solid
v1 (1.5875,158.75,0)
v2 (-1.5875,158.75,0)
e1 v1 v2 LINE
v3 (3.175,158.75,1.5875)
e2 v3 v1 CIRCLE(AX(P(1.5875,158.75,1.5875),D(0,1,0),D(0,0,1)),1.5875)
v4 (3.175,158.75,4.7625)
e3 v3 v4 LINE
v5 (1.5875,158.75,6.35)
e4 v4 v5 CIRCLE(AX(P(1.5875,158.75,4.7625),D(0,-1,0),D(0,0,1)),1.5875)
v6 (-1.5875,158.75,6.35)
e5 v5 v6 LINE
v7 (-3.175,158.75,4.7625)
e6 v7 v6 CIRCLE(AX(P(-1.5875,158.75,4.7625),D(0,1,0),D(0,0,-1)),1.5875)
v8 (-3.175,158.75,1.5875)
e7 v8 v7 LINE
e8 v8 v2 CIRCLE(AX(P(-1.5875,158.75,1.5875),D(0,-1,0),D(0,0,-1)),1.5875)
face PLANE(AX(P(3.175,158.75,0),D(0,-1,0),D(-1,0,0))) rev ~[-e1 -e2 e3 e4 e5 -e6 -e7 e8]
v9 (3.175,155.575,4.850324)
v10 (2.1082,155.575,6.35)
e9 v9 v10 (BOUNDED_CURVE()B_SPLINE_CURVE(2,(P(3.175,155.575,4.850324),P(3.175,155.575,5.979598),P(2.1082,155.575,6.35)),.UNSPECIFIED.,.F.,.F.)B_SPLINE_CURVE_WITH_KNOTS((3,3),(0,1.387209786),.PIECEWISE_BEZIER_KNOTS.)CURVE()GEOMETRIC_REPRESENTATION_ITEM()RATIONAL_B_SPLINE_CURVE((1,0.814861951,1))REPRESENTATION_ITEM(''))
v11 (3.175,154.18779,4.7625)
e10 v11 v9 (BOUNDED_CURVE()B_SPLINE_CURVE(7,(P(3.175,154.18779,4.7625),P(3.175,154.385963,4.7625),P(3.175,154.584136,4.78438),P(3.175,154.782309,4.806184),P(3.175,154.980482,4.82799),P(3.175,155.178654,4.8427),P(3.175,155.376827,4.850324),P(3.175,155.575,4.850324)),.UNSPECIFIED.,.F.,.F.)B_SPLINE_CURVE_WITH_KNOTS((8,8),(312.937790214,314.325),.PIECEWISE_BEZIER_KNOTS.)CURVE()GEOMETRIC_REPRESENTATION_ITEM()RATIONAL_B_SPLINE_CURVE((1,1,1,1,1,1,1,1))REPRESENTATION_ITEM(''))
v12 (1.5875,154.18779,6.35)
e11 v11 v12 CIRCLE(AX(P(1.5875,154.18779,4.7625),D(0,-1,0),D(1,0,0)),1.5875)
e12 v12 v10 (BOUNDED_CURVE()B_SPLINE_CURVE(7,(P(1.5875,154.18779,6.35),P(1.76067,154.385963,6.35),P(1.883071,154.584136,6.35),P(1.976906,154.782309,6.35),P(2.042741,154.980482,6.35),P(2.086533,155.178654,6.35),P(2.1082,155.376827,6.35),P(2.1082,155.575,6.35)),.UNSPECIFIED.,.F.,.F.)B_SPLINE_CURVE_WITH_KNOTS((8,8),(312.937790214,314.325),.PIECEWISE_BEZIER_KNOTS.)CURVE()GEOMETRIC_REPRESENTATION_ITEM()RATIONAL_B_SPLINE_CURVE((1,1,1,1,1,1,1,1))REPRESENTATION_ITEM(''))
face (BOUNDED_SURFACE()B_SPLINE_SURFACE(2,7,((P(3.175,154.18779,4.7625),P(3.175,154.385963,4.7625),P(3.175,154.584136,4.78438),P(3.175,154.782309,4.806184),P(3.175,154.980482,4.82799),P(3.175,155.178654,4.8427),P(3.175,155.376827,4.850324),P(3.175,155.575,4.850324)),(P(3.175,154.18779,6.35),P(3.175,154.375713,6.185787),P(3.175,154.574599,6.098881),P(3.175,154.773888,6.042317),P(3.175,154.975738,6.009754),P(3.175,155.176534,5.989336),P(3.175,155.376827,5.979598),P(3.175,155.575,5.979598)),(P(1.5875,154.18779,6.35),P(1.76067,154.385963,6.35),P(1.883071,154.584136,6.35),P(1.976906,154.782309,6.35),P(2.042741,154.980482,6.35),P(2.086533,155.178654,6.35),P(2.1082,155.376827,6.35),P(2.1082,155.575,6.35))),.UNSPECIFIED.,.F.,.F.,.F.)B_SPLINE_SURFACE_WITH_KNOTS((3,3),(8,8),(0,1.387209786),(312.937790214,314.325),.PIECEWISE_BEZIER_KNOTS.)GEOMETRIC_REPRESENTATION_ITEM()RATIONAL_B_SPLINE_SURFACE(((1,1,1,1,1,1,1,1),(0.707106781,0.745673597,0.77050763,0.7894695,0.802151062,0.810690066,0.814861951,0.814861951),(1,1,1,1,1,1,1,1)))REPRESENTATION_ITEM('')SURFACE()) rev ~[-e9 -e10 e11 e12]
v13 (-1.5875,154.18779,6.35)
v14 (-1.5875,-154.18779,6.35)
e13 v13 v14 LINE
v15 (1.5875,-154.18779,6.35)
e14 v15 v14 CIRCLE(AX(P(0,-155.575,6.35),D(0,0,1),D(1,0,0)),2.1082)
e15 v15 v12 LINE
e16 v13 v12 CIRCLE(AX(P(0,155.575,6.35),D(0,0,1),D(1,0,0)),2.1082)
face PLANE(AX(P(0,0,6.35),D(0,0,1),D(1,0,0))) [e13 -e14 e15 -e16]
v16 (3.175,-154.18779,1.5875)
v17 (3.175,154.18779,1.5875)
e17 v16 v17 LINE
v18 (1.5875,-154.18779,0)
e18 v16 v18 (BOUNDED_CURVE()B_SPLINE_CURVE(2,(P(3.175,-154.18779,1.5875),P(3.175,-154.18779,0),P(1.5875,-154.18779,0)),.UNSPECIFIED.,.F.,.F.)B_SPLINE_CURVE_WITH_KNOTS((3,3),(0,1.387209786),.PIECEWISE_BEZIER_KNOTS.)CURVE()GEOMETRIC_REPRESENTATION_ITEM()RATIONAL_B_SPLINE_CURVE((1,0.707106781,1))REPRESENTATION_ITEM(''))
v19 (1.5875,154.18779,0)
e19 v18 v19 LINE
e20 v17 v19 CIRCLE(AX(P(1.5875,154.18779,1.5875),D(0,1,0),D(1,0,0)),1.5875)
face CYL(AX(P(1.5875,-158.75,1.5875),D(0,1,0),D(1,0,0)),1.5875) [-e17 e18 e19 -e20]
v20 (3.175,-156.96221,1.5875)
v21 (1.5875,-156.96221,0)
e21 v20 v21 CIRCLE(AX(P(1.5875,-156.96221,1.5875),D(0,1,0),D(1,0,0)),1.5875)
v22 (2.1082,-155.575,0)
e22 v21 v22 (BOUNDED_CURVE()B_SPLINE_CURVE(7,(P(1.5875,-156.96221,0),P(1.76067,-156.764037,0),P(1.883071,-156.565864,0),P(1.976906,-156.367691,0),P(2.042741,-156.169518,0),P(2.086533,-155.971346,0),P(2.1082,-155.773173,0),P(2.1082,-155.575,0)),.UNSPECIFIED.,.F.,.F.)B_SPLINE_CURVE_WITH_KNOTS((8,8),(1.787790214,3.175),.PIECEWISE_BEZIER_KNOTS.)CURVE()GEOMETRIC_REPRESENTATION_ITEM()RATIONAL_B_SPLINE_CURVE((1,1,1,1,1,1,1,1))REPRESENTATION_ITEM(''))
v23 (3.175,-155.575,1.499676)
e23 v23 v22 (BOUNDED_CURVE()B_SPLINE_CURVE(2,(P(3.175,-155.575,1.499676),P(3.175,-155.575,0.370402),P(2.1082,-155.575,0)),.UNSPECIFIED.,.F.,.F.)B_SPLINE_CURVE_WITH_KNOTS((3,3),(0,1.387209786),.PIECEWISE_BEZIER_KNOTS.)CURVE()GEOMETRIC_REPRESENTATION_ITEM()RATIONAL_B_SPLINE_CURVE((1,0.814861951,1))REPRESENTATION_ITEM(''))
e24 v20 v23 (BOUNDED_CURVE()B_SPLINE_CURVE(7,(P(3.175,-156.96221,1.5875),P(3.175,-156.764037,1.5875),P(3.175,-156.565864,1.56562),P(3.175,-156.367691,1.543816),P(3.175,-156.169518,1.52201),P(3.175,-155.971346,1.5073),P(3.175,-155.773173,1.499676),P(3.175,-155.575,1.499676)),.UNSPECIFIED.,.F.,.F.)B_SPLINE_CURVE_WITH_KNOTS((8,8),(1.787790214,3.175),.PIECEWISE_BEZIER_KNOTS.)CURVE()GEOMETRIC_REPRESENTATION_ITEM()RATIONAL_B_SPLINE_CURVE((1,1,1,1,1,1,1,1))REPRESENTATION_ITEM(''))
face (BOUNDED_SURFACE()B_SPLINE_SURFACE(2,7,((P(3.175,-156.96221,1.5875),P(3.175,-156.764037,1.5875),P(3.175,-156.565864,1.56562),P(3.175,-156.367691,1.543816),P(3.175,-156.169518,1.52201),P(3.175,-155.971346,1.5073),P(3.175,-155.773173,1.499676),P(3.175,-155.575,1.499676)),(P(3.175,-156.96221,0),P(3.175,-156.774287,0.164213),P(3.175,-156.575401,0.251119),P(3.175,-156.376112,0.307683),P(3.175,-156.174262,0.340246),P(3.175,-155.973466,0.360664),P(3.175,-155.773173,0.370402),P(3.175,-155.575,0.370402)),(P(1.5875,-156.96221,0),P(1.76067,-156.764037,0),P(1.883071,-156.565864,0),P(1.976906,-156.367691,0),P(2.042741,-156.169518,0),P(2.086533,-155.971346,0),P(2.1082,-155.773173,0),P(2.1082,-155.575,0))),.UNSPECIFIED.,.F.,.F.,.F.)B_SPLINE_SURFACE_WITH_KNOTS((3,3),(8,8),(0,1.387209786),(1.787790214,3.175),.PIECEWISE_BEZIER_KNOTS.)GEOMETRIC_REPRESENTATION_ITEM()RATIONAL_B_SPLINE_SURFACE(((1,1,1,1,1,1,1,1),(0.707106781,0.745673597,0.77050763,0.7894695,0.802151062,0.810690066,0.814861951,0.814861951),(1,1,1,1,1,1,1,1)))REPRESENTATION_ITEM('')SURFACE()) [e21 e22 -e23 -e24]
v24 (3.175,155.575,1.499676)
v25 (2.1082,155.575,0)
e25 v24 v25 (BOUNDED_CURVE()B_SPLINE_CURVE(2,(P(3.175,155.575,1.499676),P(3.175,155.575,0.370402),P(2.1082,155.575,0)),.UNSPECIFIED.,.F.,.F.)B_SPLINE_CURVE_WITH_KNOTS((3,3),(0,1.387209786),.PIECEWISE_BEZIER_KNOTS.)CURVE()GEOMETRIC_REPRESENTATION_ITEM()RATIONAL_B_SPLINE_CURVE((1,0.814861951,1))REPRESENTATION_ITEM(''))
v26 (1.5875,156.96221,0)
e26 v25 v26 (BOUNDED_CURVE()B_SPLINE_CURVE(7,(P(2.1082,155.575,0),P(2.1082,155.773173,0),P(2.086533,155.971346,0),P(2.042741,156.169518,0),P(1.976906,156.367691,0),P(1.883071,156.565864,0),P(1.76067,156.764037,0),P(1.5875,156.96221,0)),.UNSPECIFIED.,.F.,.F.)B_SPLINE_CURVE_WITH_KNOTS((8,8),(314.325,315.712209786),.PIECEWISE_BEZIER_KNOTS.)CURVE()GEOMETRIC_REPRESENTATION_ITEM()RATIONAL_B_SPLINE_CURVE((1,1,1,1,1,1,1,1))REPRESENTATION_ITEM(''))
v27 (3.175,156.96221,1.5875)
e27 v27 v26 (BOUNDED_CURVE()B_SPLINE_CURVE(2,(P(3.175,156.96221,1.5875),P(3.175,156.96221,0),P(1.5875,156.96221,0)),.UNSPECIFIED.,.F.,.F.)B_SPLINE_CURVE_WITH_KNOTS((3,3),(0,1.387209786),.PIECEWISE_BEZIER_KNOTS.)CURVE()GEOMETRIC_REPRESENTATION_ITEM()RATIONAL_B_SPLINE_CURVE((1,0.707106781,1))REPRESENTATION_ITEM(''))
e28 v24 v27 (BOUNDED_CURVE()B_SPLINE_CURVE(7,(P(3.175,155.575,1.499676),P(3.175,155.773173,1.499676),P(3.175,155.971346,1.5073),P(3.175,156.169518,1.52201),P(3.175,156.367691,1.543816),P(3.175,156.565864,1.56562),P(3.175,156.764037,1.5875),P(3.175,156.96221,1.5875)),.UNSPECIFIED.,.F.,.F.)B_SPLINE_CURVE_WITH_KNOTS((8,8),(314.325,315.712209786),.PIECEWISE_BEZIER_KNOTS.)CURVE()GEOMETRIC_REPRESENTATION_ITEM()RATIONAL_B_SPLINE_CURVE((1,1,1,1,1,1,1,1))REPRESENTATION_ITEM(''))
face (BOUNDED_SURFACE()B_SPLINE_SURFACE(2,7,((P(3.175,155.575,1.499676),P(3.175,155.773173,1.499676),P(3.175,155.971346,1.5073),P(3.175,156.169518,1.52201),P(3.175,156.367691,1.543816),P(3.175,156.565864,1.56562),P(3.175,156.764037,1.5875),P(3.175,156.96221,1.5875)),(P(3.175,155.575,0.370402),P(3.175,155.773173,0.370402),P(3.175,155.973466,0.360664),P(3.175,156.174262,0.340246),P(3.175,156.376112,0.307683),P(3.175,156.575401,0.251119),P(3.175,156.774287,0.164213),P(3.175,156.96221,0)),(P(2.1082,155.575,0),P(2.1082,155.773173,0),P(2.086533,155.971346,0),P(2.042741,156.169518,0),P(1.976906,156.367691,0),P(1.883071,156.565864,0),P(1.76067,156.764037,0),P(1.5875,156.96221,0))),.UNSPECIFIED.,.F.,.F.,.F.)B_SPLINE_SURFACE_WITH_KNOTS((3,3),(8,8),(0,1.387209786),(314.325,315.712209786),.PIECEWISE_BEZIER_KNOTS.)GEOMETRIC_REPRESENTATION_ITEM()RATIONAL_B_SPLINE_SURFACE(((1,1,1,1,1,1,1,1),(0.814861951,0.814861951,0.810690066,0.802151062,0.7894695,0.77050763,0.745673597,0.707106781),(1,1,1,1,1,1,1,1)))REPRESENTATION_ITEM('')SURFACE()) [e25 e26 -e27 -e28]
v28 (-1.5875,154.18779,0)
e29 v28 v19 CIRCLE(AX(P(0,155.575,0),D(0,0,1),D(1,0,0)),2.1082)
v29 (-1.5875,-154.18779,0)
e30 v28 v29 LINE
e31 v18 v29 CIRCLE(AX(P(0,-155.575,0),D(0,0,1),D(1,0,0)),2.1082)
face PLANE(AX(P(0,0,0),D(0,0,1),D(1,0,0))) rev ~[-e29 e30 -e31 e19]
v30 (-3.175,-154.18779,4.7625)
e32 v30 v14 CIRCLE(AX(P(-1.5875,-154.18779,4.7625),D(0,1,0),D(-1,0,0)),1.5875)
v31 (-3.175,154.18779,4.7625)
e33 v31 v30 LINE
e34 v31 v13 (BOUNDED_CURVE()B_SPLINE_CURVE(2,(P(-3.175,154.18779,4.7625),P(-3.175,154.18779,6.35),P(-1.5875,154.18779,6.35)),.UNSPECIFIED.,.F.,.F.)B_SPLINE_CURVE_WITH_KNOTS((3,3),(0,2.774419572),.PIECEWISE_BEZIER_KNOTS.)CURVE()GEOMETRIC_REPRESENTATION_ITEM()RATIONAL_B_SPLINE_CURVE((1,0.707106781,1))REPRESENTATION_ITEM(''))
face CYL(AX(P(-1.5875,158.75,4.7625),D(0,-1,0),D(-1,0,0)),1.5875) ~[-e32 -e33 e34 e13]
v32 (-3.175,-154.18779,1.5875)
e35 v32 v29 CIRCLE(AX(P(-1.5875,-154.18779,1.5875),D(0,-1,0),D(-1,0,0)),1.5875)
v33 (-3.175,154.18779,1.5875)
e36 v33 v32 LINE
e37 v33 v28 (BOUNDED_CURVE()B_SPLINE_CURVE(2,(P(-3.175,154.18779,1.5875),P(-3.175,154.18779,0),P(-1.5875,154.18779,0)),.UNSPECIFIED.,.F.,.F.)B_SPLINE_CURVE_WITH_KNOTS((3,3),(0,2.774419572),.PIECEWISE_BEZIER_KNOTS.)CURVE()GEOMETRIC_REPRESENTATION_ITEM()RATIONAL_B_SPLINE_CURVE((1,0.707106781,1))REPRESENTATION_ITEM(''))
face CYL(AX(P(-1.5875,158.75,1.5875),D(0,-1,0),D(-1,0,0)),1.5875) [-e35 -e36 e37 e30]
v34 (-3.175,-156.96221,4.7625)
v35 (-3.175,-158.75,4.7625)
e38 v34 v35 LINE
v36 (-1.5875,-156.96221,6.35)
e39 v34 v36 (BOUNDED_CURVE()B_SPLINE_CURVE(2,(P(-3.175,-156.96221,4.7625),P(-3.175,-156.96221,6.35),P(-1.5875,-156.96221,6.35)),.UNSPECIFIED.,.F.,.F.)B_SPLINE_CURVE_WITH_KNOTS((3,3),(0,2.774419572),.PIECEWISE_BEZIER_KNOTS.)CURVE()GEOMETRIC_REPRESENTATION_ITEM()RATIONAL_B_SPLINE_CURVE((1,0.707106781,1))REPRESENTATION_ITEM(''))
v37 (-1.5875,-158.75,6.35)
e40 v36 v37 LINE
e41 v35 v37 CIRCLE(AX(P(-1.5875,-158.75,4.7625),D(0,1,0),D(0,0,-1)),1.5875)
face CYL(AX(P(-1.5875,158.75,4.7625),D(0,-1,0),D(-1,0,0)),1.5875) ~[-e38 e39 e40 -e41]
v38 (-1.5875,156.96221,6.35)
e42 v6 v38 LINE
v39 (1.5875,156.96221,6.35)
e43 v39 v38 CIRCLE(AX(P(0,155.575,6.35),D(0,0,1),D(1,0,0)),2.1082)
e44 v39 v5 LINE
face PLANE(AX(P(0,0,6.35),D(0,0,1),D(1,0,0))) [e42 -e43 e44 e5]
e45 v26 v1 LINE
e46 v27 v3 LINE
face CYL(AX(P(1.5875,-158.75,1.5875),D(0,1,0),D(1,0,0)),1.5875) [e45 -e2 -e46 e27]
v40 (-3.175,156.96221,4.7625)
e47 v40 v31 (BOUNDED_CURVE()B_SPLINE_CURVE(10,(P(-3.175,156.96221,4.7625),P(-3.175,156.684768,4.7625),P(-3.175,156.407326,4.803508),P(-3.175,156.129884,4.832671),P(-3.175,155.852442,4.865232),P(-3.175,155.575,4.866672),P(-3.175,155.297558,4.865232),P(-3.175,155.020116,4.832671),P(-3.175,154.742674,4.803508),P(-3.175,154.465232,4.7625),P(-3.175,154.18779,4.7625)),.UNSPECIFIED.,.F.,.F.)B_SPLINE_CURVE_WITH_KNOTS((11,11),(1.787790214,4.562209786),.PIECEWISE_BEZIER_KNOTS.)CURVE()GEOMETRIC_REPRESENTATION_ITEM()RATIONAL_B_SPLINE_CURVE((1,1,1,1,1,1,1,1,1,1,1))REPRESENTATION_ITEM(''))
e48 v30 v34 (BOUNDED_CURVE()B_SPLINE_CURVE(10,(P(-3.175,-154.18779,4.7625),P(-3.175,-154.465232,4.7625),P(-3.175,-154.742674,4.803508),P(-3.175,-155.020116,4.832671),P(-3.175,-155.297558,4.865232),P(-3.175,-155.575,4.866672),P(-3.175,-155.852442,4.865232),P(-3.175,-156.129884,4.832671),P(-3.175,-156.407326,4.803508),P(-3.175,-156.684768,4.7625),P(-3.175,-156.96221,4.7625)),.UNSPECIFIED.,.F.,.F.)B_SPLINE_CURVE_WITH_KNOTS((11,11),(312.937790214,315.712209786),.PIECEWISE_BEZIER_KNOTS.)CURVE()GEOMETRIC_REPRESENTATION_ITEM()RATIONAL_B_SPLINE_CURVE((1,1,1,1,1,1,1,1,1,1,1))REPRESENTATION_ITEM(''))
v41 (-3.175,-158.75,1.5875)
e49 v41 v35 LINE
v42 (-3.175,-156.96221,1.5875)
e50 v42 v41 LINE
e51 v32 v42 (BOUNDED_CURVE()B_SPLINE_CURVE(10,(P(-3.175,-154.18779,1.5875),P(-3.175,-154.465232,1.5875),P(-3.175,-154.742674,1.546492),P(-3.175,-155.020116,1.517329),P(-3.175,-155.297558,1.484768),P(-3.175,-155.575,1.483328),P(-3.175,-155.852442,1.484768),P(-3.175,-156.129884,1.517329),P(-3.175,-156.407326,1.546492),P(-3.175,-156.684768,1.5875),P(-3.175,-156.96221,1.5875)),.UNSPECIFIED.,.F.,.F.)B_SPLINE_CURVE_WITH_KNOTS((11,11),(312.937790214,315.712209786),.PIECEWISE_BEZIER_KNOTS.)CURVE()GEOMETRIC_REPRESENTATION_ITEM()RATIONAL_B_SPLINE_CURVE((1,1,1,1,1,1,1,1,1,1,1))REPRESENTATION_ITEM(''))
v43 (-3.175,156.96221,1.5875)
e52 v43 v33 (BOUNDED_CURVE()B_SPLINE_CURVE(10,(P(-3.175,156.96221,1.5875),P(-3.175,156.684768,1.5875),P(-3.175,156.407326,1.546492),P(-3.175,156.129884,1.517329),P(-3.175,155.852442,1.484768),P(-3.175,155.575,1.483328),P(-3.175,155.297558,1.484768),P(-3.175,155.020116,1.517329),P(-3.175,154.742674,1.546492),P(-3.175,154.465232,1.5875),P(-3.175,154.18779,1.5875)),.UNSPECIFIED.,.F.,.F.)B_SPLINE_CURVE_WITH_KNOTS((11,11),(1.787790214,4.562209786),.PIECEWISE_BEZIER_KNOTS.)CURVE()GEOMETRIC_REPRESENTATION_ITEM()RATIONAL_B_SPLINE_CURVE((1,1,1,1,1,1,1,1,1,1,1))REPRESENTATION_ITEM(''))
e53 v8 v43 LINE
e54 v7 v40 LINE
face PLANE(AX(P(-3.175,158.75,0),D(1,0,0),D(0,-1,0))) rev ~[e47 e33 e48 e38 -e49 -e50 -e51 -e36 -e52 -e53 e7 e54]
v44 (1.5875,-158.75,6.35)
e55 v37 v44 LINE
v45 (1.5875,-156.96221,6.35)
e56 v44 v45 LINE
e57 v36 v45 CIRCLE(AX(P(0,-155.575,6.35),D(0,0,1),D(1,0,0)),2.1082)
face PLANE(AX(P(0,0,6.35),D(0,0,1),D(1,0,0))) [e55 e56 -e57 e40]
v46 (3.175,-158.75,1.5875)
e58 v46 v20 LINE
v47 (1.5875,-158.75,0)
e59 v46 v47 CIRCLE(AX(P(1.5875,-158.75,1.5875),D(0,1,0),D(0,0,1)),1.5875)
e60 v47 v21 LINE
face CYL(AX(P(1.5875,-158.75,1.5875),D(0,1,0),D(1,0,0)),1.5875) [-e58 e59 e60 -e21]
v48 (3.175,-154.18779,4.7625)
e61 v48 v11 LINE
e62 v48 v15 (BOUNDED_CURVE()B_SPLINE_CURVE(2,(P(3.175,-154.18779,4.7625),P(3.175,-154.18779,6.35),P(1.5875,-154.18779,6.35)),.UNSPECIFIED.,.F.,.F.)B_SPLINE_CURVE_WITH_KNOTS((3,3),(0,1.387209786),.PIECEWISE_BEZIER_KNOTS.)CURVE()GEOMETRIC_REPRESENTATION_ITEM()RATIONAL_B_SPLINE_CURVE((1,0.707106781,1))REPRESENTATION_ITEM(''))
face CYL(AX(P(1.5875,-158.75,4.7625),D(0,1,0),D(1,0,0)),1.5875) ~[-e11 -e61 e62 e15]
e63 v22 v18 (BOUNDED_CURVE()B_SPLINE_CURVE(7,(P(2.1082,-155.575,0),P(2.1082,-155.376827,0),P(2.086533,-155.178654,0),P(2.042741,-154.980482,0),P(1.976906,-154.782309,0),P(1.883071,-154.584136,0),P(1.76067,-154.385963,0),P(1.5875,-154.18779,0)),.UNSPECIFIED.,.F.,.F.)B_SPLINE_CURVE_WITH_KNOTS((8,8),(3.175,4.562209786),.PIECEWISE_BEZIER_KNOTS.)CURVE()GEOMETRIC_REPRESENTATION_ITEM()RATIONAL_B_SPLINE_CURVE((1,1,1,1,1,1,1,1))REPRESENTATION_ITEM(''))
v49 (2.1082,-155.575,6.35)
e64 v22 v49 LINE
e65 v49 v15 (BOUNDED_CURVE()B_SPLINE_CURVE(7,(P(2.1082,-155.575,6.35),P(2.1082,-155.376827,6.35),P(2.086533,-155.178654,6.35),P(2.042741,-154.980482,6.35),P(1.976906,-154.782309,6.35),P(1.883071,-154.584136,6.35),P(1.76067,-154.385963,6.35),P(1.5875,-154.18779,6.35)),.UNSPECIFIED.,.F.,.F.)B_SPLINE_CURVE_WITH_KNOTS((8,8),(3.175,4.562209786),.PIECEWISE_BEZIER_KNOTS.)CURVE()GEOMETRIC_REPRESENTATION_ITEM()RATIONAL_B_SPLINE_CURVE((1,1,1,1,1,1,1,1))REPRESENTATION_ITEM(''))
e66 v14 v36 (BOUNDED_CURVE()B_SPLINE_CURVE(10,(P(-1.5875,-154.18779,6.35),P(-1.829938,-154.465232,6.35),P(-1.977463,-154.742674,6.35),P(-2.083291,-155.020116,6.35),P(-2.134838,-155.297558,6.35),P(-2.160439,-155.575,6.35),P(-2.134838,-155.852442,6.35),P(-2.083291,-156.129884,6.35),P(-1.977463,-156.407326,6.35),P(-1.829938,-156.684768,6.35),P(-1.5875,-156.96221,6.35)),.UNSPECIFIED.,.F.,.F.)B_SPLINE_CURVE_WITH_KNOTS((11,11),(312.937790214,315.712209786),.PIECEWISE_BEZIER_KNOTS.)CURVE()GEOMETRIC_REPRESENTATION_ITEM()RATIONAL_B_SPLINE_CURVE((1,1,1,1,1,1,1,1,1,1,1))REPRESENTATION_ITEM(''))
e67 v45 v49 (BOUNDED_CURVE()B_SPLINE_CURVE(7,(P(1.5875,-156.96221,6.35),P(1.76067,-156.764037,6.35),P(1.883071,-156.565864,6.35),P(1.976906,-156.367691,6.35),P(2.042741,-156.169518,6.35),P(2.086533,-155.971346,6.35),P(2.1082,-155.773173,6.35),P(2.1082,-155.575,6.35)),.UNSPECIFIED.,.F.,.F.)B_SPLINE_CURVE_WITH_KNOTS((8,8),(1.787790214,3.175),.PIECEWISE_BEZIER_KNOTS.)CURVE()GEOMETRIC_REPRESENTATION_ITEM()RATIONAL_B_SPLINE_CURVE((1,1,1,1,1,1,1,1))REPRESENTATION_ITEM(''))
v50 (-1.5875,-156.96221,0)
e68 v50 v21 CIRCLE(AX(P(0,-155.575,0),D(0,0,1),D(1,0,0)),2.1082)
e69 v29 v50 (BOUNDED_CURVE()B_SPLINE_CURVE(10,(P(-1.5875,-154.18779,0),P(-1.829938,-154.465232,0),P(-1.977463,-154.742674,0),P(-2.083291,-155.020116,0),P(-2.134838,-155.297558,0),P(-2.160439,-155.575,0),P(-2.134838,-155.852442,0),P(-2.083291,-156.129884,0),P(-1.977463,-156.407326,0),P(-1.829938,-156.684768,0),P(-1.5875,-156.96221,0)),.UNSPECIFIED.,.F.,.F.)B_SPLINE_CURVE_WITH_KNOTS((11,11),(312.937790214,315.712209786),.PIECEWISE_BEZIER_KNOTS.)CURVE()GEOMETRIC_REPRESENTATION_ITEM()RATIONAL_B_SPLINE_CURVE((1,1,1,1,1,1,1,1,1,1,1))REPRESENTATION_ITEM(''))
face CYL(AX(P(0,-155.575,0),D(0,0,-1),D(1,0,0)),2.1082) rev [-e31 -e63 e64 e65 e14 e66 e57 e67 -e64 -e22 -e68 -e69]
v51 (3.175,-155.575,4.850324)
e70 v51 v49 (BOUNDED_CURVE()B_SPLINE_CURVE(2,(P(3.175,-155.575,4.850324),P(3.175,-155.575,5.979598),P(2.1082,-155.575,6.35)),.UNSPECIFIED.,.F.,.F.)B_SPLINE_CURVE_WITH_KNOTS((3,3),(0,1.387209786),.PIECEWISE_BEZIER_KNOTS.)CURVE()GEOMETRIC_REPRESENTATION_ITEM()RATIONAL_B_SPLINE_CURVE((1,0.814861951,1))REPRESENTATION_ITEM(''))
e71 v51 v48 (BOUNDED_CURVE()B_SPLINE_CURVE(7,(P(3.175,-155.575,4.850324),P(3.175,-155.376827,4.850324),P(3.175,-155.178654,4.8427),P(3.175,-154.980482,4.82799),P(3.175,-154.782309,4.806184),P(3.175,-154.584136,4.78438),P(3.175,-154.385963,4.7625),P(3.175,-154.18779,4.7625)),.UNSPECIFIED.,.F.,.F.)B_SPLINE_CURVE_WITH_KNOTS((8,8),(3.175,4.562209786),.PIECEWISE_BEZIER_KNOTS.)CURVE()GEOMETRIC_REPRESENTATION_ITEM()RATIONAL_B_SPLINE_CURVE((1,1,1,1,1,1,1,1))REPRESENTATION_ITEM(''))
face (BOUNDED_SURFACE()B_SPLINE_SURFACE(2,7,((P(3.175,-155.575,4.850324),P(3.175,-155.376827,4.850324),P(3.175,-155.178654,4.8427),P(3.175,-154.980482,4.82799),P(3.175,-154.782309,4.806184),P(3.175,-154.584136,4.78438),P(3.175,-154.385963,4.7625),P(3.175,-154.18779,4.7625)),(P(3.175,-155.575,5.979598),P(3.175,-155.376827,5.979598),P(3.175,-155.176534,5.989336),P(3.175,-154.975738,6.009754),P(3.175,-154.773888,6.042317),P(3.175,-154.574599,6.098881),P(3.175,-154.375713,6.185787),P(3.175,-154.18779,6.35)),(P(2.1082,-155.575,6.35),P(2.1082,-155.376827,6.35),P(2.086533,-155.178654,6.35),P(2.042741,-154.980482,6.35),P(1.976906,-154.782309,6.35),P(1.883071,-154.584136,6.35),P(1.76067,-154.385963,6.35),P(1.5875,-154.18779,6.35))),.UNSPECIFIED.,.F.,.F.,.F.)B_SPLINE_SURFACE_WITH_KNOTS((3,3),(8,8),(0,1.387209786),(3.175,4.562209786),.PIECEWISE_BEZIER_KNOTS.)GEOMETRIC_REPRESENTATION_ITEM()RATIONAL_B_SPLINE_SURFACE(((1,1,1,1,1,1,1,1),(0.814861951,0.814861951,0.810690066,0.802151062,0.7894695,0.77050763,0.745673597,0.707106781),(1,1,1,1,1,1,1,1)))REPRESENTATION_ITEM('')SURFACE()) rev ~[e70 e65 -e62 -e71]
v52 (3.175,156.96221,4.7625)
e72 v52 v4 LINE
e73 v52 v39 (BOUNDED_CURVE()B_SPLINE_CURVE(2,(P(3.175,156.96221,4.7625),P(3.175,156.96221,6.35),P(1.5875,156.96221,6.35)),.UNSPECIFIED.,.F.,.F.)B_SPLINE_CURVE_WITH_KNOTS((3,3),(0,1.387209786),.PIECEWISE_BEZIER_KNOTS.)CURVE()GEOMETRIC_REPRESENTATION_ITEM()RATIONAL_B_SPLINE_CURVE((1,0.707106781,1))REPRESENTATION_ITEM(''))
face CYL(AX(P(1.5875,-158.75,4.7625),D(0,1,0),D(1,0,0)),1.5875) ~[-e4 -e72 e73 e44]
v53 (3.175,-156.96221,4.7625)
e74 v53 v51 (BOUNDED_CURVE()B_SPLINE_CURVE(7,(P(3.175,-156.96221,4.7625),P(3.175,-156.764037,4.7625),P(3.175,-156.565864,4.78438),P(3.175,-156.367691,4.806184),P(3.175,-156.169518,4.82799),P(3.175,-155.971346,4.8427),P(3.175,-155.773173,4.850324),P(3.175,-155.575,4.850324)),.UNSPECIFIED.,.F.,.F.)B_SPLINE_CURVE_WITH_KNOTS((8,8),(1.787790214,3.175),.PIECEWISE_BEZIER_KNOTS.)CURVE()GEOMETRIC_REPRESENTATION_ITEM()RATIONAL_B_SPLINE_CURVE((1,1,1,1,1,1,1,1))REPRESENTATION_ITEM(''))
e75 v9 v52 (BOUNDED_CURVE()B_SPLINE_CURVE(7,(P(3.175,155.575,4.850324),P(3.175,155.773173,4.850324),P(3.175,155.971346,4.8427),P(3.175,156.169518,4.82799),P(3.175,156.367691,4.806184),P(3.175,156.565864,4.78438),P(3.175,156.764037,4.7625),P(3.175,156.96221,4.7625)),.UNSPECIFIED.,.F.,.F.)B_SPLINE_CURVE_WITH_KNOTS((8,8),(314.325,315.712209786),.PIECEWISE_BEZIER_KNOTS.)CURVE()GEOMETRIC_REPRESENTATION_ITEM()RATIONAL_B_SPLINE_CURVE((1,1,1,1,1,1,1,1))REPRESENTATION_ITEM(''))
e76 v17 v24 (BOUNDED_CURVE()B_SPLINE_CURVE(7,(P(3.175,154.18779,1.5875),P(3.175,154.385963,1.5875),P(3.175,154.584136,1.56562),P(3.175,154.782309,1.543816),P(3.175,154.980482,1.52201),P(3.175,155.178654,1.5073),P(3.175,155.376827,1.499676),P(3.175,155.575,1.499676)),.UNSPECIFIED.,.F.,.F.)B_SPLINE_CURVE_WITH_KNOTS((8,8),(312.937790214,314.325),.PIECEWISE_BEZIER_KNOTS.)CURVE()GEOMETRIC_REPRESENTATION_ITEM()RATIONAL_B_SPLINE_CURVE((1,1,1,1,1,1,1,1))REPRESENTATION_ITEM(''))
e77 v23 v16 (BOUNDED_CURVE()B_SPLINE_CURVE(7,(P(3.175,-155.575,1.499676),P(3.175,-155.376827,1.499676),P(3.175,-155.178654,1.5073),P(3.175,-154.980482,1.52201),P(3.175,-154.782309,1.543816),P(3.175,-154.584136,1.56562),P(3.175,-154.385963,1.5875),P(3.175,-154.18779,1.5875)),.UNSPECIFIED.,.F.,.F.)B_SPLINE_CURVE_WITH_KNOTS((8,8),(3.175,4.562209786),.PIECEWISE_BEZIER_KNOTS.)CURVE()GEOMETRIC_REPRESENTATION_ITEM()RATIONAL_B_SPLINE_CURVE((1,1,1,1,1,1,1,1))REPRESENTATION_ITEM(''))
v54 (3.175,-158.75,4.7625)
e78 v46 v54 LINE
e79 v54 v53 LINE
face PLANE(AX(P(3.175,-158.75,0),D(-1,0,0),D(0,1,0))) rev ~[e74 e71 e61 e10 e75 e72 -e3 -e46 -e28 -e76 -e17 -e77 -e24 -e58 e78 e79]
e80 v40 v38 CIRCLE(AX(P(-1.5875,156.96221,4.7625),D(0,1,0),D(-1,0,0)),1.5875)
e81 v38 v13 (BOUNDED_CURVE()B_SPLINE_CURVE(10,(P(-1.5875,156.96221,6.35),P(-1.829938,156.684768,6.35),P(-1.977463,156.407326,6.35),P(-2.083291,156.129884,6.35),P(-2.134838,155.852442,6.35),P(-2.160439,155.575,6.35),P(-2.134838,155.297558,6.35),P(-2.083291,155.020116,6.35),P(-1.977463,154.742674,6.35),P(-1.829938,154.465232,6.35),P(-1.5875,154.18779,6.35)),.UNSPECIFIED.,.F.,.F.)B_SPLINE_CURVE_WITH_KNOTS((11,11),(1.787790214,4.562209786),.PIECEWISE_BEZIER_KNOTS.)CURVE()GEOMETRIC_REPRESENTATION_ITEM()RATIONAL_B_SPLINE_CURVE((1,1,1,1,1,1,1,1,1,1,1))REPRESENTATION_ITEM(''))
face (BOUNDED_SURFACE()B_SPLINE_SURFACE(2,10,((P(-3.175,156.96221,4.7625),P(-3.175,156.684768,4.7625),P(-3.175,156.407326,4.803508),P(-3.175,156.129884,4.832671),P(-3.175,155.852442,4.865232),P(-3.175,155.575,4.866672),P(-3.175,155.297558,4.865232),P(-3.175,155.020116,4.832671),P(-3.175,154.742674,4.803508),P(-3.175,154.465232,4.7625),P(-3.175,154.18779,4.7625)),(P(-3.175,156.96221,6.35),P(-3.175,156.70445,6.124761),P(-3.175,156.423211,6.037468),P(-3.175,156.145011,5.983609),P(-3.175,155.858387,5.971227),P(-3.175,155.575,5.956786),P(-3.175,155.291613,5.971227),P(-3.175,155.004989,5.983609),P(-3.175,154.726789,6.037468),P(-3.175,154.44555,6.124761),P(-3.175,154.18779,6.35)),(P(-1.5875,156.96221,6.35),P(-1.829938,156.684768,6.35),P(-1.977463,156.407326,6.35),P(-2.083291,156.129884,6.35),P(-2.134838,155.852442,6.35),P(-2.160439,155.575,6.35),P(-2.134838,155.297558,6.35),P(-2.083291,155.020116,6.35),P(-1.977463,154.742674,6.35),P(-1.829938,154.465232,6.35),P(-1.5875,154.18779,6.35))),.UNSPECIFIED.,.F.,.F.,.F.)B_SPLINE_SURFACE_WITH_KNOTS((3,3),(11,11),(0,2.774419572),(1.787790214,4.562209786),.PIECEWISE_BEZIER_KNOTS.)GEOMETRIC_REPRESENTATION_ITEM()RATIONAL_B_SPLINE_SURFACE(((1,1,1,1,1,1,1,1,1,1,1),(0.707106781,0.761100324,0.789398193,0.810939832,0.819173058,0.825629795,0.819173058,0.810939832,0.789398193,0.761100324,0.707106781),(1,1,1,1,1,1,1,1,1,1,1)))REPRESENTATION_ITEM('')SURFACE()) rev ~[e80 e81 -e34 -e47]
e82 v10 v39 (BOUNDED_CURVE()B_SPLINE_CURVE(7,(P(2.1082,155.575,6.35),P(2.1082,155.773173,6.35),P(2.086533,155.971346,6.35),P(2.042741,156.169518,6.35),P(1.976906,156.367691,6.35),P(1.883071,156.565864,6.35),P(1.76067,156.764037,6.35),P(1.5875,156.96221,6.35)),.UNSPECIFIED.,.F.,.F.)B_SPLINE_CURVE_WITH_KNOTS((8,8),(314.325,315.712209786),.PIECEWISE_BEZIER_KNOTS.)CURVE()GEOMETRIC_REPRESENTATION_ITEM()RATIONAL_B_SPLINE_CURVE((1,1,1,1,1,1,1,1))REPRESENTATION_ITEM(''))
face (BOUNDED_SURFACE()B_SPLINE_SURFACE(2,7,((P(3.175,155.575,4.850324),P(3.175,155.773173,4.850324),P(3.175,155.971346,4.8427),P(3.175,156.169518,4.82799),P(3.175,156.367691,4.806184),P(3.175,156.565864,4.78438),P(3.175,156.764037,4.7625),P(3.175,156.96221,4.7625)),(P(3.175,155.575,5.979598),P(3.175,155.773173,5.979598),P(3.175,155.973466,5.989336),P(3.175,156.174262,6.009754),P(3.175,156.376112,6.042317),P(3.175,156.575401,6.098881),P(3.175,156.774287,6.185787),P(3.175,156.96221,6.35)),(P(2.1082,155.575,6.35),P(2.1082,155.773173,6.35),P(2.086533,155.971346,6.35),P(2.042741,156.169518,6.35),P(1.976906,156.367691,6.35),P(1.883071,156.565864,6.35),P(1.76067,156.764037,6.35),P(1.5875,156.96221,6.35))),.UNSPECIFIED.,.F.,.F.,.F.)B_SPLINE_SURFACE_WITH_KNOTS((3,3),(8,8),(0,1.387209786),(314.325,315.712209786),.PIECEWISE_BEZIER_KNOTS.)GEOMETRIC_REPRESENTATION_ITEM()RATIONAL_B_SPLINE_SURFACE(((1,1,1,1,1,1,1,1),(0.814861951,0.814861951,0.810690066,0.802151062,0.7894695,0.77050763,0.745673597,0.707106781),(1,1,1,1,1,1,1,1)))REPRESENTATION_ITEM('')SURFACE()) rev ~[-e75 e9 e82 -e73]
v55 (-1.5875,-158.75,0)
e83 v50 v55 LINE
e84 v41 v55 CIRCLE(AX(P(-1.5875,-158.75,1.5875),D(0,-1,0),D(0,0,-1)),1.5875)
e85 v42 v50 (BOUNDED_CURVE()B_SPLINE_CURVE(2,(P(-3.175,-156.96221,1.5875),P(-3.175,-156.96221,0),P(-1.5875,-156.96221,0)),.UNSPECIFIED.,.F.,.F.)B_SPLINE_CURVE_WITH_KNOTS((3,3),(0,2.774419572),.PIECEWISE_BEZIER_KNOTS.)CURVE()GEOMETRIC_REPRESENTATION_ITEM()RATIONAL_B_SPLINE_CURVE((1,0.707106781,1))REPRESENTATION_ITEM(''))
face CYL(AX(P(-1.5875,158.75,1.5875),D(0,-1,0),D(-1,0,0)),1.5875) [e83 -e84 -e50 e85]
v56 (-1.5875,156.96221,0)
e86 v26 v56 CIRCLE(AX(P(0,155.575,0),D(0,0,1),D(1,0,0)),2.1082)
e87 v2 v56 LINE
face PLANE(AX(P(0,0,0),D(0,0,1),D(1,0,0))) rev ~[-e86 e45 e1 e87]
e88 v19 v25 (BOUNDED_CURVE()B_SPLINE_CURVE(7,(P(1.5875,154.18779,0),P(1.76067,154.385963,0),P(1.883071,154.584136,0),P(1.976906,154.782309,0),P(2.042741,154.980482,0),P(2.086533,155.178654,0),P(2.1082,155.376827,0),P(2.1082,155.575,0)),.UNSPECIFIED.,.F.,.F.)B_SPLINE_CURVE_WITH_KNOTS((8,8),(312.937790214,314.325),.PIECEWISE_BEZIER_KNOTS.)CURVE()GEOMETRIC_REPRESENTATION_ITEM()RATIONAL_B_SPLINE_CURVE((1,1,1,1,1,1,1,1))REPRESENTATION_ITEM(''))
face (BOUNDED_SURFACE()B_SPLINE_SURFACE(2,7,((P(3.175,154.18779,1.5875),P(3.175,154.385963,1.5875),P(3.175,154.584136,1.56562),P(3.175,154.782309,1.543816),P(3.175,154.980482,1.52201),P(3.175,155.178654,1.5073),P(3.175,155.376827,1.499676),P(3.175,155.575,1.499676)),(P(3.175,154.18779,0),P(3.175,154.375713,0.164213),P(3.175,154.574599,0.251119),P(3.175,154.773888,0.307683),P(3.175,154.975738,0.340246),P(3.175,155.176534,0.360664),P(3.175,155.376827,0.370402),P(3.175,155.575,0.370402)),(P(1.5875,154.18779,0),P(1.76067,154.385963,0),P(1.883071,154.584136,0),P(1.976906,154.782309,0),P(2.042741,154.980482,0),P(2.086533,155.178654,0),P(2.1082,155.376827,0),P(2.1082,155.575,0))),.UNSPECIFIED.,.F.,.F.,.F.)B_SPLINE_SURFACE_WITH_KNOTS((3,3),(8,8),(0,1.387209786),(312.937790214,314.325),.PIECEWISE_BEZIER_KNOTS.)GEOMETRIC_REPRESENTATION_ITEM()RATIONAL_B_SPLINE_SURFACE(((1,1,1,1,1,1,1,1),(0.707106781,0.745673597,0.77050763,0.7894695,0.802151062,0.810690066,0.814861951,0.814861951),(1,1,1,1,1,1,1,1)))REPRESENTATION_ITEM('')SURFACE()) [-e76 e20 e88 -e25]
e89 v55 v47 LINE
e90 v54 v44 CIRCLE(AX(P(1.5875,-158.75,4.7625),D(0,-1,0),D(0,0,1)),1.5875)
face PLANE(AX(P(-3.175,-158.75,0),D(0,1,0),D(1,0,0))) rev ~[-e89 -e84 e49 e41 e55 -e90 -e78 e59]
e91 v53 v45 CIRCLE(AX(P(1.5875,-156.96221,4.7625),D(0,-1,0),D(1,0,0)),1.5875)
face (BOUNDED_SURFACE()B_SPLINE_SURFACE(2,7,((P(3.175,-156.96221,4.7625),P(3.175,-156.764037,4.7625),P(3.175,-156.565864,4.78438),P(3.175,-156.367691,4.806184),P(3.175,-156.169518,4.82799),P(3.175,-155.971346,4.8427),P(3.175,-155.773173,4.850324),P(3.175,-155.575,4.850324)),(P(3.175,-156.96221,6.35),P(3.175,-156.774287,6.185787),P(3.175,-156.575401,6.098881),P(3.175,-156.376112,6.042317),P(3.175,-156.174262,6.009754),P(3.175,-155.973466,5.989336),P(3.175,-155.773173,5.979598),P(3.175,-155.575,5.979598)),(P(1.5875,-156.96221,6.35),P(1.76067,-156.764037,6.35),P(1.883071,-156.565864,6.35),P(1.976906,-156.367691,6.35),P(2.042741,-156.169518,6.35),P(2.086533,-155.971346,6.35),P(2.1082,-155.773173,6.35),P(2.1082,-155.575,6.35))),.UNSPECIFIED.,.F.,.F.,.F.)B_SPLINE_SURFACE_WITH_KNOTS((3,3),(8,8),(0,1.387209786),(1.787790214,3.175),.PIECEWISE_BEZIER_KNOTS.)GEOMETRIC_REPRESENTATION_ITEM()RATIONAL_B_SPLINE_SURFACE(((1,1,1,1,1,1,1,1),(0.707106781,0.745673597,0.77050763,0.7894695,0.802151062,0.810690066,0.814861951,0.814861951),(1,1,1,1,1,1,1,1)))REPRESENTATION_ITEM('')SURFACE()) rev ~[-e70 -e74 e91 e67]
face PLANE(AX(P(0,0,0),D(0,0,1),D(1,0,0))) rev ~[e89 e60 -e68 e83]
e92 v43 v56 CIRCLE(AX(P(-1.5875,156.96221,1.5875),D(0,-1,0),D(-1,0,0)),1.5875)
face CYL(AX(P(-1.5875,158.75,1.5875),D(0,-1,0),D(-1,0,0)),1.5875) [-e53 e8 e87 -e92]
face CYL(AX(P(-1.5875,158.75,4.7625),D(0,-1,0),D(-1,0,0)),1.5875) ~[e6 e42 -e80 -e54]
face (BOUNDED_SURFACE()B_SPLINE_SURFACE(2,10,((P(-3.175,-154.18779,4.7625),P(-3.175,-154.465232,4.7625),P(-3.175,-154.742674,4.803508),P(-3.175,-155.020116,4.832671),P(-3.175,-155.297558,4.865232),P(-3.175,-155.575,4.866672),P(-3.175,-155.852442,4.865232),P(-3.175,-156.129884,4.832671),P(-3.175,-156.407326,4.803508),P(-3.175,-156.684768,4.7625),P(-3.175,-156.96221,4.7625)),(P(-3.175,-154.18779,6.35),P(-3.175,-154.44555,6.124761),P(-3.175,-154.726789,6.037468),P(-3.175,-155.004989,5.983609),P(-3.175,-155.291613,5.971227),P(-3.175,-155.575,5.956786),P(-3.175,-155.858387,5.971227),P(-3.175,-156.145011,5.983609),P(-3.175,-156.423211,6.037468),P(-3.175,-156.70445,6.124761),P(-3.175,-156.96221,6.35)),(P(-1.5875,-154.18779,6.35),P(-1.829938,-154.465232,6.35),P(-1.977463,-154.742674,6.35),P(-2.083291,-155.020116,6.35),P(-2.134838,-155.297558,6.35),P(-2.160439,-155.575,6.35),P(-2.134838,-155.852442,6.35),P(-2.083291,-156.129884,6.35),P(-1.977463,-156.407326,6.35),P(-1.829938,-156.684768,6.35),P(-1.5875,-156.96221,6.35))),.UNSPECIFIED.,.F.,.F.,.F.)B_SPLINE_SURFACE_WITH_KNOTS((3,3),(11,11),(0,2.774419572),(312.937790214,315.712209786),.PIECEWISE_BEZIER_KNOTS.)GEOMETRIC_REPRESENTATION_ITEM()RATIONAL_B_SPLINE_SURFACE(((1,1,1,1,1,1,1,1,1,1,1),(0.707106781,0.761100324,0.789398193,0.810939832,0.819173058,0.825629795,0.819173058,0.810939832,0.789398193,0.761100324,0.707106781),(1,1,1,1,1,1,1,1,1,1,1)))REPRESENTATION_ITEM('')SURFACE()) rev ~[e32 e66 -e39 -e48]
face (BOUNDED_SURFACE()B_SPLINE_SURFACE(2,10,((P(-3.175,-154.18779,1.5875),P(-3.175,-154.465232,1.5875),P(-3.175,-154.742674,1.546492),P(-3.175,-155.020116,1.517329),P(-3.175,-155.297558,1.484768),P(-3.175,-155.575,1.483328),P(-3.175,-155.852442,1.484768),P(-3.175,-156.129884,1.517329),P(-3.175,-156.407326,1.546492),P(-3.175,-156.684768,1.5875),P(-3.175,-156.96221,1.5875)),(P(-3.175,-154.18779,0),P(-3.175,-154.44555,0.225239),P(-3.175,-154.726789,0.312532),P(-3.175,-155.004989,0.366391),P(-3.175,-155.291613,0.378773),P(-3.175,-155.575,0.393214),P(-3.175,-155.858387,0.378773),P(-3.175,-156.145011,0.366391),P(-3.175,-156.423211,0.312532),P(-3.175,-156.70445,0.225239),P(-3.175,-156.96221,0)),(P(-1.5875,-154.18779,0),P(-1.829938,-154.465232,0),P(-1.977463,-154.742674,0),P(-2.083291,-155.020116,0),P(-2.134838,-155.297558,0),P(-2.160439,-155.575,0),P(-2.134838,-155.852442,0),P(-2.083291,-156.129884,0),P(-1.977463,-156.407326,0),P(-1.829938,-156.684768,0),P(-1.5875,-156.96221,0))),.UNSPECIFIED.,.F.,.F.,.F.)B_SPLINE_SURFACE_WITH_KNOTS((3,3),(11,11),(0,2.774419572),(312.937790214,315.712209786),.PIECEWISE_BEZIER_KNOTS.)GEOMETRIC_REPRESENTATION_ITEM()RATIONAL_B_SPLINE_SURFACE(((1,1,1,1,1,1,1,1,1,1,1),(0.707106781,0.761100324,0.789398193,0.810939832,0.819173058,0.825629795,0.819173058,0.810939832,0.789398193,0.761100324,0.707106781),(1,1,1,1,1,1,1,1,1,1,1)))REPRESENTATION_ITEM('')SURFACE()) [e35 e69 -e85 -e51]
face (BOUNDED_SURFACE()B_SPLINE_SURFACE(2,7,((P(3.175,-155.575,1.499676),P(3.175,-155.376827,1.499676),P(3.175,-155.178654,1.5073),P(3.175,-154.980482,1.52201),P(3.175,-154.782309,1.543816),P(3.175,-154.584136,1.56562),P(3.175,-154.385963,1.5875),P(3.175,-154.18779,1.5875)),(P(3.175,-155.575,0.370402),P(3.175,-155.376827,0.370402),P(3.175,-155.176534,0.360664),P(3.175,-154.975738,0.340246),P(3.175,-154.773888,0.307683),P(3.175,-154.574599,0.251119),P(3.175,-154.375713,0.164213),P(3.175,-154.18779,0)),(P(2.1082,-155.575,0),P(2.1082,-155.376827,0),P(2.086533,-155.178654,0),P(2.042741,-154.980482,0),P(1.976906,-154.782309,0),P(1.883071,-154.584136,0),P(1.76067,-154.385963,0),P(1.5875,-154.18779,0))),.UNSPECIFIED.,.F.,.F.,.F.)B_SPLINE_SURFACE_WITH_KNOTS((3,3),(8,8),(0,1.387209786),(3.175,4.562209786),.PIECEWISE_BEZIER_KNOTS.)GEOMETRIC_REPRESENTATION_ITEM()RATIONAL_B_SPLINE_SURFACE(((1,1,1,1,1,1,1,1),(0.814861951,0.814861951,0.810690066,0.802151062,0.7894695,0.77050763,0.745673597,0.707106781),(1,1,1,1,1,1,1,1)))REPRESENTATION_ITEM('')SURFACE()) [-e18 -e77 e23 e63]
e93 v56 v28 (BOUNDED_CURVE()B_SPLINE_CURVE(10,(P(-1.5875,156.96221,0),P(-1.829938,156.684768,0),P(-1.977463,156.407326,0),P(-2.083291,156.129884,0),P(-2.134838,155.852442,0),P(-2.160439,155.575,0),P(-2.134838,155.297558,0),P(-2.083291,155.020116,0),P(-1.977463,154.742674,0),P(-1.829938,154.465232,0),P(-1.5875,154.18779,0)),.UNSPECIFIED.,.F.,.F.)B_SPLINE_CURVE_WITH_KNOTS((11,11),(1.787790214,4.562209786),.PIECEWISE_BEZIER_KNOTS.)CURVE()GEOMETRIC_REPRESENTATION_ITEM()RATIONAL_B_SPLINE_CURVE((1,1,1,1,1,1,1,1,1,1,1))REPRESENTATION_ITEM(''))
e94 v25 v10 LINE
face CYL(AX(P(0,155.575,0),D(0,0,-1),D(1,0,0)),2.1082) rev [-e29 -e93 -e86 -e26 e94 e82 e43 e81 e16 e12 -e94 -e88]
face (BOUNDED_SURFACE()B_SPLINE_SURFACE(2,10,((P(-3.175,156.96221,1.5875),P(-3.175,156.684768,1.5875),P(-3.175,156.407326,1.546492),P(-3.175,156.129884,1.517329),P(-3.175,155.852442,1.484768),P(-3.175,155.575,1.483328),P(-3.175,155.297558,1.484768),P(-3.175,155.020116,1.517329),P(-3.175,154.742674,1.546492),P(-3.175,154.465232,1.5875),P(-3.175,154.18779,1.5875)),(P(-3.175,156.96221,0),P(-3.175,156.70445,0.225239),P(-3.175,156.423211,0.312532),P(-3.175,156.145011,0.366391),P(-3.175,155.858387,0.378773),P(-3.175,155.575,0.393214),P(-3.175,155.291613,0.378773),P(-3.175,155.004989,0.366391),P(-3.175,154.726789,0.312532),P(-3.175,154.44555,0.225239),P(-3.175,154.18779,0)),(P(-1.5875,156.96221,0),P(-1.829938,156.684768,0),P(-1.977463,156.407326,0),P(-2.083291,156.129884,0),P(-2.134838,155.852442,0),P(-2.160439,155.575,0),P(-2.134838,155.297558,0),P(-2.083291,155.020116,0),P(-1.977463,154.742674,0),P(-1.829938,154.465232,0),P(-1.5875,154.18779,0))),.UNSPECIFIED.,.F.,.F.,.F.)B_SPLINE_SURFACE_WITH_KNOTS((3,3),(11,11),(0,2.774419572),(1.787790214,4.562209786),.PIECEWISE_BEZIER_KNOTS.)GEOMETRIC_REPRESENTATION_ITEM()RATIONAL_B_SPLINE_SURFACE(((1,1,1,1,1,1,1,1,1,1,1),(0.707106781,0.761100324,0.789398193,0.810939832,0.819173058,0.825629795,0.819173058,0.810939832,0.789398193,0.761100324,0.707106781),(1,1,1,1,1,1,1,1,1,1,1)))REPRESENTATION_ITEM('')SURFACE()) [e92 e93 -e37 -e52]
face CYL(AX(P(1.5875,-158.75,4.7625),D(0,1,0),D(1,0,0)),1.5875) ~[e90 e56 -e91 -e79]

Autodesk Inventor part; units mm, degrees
ref_plane "YZ Plane" through (0, 0, 0) normal (1, 0, 0) x (0, 1, 0)
ref_plane "XZ Plane" through (0, 0, 0) normal (0, 1, 0) x (-1, 0, 0)
ref_plane "XY Plane" through (0, 0, 0) normal (0, 0, 1) x (1, 0, 0)
sketch "Sketch1" plane through (0, 0, 0) normal (0, 0, 1) x (1, 0, 0)
  line L0 (3.175, 158.75) -> (-3.175, 158.75)
  line L1 (-3.175, 158.75) -> (-3.175, -158.75)
  line L2 (-3.175, -158.75) -> (3.175, -158.75)
  line L3 (3.175, -158.75) -> (3.175, 158.75)
  line L4 (3.175, 158.75) -> (-3.175, -158.75) construction
  line L5 (-3.175, 158.75) -> (3.175, -158.75) construction
  circle A0 centre (0, -155.575) radius 2.1082
  circle A1 centre (0, 155.575) radius 2.1082
  point P0 (0, 0)
  dimension "d0" = 6.35
  dimension "d1" = 317.5
  dimension "d2" = 4.2164
  dimension "d3" = 3.175
  dimension "d4" = 4.2164
  dimension "d5" = 3.175
extrude "Extrusion1" add sketch "Sketch1" along normal blind 6.35
fillet "Fillet1" radius 1.5875 4 edges at (3.175, 0, 0) (-3.175, 0, 0) (-3.175, 0, 6.35) (3.175, 0, 6.35)
properties part number "Blocker A" material "Stainless Steel"
